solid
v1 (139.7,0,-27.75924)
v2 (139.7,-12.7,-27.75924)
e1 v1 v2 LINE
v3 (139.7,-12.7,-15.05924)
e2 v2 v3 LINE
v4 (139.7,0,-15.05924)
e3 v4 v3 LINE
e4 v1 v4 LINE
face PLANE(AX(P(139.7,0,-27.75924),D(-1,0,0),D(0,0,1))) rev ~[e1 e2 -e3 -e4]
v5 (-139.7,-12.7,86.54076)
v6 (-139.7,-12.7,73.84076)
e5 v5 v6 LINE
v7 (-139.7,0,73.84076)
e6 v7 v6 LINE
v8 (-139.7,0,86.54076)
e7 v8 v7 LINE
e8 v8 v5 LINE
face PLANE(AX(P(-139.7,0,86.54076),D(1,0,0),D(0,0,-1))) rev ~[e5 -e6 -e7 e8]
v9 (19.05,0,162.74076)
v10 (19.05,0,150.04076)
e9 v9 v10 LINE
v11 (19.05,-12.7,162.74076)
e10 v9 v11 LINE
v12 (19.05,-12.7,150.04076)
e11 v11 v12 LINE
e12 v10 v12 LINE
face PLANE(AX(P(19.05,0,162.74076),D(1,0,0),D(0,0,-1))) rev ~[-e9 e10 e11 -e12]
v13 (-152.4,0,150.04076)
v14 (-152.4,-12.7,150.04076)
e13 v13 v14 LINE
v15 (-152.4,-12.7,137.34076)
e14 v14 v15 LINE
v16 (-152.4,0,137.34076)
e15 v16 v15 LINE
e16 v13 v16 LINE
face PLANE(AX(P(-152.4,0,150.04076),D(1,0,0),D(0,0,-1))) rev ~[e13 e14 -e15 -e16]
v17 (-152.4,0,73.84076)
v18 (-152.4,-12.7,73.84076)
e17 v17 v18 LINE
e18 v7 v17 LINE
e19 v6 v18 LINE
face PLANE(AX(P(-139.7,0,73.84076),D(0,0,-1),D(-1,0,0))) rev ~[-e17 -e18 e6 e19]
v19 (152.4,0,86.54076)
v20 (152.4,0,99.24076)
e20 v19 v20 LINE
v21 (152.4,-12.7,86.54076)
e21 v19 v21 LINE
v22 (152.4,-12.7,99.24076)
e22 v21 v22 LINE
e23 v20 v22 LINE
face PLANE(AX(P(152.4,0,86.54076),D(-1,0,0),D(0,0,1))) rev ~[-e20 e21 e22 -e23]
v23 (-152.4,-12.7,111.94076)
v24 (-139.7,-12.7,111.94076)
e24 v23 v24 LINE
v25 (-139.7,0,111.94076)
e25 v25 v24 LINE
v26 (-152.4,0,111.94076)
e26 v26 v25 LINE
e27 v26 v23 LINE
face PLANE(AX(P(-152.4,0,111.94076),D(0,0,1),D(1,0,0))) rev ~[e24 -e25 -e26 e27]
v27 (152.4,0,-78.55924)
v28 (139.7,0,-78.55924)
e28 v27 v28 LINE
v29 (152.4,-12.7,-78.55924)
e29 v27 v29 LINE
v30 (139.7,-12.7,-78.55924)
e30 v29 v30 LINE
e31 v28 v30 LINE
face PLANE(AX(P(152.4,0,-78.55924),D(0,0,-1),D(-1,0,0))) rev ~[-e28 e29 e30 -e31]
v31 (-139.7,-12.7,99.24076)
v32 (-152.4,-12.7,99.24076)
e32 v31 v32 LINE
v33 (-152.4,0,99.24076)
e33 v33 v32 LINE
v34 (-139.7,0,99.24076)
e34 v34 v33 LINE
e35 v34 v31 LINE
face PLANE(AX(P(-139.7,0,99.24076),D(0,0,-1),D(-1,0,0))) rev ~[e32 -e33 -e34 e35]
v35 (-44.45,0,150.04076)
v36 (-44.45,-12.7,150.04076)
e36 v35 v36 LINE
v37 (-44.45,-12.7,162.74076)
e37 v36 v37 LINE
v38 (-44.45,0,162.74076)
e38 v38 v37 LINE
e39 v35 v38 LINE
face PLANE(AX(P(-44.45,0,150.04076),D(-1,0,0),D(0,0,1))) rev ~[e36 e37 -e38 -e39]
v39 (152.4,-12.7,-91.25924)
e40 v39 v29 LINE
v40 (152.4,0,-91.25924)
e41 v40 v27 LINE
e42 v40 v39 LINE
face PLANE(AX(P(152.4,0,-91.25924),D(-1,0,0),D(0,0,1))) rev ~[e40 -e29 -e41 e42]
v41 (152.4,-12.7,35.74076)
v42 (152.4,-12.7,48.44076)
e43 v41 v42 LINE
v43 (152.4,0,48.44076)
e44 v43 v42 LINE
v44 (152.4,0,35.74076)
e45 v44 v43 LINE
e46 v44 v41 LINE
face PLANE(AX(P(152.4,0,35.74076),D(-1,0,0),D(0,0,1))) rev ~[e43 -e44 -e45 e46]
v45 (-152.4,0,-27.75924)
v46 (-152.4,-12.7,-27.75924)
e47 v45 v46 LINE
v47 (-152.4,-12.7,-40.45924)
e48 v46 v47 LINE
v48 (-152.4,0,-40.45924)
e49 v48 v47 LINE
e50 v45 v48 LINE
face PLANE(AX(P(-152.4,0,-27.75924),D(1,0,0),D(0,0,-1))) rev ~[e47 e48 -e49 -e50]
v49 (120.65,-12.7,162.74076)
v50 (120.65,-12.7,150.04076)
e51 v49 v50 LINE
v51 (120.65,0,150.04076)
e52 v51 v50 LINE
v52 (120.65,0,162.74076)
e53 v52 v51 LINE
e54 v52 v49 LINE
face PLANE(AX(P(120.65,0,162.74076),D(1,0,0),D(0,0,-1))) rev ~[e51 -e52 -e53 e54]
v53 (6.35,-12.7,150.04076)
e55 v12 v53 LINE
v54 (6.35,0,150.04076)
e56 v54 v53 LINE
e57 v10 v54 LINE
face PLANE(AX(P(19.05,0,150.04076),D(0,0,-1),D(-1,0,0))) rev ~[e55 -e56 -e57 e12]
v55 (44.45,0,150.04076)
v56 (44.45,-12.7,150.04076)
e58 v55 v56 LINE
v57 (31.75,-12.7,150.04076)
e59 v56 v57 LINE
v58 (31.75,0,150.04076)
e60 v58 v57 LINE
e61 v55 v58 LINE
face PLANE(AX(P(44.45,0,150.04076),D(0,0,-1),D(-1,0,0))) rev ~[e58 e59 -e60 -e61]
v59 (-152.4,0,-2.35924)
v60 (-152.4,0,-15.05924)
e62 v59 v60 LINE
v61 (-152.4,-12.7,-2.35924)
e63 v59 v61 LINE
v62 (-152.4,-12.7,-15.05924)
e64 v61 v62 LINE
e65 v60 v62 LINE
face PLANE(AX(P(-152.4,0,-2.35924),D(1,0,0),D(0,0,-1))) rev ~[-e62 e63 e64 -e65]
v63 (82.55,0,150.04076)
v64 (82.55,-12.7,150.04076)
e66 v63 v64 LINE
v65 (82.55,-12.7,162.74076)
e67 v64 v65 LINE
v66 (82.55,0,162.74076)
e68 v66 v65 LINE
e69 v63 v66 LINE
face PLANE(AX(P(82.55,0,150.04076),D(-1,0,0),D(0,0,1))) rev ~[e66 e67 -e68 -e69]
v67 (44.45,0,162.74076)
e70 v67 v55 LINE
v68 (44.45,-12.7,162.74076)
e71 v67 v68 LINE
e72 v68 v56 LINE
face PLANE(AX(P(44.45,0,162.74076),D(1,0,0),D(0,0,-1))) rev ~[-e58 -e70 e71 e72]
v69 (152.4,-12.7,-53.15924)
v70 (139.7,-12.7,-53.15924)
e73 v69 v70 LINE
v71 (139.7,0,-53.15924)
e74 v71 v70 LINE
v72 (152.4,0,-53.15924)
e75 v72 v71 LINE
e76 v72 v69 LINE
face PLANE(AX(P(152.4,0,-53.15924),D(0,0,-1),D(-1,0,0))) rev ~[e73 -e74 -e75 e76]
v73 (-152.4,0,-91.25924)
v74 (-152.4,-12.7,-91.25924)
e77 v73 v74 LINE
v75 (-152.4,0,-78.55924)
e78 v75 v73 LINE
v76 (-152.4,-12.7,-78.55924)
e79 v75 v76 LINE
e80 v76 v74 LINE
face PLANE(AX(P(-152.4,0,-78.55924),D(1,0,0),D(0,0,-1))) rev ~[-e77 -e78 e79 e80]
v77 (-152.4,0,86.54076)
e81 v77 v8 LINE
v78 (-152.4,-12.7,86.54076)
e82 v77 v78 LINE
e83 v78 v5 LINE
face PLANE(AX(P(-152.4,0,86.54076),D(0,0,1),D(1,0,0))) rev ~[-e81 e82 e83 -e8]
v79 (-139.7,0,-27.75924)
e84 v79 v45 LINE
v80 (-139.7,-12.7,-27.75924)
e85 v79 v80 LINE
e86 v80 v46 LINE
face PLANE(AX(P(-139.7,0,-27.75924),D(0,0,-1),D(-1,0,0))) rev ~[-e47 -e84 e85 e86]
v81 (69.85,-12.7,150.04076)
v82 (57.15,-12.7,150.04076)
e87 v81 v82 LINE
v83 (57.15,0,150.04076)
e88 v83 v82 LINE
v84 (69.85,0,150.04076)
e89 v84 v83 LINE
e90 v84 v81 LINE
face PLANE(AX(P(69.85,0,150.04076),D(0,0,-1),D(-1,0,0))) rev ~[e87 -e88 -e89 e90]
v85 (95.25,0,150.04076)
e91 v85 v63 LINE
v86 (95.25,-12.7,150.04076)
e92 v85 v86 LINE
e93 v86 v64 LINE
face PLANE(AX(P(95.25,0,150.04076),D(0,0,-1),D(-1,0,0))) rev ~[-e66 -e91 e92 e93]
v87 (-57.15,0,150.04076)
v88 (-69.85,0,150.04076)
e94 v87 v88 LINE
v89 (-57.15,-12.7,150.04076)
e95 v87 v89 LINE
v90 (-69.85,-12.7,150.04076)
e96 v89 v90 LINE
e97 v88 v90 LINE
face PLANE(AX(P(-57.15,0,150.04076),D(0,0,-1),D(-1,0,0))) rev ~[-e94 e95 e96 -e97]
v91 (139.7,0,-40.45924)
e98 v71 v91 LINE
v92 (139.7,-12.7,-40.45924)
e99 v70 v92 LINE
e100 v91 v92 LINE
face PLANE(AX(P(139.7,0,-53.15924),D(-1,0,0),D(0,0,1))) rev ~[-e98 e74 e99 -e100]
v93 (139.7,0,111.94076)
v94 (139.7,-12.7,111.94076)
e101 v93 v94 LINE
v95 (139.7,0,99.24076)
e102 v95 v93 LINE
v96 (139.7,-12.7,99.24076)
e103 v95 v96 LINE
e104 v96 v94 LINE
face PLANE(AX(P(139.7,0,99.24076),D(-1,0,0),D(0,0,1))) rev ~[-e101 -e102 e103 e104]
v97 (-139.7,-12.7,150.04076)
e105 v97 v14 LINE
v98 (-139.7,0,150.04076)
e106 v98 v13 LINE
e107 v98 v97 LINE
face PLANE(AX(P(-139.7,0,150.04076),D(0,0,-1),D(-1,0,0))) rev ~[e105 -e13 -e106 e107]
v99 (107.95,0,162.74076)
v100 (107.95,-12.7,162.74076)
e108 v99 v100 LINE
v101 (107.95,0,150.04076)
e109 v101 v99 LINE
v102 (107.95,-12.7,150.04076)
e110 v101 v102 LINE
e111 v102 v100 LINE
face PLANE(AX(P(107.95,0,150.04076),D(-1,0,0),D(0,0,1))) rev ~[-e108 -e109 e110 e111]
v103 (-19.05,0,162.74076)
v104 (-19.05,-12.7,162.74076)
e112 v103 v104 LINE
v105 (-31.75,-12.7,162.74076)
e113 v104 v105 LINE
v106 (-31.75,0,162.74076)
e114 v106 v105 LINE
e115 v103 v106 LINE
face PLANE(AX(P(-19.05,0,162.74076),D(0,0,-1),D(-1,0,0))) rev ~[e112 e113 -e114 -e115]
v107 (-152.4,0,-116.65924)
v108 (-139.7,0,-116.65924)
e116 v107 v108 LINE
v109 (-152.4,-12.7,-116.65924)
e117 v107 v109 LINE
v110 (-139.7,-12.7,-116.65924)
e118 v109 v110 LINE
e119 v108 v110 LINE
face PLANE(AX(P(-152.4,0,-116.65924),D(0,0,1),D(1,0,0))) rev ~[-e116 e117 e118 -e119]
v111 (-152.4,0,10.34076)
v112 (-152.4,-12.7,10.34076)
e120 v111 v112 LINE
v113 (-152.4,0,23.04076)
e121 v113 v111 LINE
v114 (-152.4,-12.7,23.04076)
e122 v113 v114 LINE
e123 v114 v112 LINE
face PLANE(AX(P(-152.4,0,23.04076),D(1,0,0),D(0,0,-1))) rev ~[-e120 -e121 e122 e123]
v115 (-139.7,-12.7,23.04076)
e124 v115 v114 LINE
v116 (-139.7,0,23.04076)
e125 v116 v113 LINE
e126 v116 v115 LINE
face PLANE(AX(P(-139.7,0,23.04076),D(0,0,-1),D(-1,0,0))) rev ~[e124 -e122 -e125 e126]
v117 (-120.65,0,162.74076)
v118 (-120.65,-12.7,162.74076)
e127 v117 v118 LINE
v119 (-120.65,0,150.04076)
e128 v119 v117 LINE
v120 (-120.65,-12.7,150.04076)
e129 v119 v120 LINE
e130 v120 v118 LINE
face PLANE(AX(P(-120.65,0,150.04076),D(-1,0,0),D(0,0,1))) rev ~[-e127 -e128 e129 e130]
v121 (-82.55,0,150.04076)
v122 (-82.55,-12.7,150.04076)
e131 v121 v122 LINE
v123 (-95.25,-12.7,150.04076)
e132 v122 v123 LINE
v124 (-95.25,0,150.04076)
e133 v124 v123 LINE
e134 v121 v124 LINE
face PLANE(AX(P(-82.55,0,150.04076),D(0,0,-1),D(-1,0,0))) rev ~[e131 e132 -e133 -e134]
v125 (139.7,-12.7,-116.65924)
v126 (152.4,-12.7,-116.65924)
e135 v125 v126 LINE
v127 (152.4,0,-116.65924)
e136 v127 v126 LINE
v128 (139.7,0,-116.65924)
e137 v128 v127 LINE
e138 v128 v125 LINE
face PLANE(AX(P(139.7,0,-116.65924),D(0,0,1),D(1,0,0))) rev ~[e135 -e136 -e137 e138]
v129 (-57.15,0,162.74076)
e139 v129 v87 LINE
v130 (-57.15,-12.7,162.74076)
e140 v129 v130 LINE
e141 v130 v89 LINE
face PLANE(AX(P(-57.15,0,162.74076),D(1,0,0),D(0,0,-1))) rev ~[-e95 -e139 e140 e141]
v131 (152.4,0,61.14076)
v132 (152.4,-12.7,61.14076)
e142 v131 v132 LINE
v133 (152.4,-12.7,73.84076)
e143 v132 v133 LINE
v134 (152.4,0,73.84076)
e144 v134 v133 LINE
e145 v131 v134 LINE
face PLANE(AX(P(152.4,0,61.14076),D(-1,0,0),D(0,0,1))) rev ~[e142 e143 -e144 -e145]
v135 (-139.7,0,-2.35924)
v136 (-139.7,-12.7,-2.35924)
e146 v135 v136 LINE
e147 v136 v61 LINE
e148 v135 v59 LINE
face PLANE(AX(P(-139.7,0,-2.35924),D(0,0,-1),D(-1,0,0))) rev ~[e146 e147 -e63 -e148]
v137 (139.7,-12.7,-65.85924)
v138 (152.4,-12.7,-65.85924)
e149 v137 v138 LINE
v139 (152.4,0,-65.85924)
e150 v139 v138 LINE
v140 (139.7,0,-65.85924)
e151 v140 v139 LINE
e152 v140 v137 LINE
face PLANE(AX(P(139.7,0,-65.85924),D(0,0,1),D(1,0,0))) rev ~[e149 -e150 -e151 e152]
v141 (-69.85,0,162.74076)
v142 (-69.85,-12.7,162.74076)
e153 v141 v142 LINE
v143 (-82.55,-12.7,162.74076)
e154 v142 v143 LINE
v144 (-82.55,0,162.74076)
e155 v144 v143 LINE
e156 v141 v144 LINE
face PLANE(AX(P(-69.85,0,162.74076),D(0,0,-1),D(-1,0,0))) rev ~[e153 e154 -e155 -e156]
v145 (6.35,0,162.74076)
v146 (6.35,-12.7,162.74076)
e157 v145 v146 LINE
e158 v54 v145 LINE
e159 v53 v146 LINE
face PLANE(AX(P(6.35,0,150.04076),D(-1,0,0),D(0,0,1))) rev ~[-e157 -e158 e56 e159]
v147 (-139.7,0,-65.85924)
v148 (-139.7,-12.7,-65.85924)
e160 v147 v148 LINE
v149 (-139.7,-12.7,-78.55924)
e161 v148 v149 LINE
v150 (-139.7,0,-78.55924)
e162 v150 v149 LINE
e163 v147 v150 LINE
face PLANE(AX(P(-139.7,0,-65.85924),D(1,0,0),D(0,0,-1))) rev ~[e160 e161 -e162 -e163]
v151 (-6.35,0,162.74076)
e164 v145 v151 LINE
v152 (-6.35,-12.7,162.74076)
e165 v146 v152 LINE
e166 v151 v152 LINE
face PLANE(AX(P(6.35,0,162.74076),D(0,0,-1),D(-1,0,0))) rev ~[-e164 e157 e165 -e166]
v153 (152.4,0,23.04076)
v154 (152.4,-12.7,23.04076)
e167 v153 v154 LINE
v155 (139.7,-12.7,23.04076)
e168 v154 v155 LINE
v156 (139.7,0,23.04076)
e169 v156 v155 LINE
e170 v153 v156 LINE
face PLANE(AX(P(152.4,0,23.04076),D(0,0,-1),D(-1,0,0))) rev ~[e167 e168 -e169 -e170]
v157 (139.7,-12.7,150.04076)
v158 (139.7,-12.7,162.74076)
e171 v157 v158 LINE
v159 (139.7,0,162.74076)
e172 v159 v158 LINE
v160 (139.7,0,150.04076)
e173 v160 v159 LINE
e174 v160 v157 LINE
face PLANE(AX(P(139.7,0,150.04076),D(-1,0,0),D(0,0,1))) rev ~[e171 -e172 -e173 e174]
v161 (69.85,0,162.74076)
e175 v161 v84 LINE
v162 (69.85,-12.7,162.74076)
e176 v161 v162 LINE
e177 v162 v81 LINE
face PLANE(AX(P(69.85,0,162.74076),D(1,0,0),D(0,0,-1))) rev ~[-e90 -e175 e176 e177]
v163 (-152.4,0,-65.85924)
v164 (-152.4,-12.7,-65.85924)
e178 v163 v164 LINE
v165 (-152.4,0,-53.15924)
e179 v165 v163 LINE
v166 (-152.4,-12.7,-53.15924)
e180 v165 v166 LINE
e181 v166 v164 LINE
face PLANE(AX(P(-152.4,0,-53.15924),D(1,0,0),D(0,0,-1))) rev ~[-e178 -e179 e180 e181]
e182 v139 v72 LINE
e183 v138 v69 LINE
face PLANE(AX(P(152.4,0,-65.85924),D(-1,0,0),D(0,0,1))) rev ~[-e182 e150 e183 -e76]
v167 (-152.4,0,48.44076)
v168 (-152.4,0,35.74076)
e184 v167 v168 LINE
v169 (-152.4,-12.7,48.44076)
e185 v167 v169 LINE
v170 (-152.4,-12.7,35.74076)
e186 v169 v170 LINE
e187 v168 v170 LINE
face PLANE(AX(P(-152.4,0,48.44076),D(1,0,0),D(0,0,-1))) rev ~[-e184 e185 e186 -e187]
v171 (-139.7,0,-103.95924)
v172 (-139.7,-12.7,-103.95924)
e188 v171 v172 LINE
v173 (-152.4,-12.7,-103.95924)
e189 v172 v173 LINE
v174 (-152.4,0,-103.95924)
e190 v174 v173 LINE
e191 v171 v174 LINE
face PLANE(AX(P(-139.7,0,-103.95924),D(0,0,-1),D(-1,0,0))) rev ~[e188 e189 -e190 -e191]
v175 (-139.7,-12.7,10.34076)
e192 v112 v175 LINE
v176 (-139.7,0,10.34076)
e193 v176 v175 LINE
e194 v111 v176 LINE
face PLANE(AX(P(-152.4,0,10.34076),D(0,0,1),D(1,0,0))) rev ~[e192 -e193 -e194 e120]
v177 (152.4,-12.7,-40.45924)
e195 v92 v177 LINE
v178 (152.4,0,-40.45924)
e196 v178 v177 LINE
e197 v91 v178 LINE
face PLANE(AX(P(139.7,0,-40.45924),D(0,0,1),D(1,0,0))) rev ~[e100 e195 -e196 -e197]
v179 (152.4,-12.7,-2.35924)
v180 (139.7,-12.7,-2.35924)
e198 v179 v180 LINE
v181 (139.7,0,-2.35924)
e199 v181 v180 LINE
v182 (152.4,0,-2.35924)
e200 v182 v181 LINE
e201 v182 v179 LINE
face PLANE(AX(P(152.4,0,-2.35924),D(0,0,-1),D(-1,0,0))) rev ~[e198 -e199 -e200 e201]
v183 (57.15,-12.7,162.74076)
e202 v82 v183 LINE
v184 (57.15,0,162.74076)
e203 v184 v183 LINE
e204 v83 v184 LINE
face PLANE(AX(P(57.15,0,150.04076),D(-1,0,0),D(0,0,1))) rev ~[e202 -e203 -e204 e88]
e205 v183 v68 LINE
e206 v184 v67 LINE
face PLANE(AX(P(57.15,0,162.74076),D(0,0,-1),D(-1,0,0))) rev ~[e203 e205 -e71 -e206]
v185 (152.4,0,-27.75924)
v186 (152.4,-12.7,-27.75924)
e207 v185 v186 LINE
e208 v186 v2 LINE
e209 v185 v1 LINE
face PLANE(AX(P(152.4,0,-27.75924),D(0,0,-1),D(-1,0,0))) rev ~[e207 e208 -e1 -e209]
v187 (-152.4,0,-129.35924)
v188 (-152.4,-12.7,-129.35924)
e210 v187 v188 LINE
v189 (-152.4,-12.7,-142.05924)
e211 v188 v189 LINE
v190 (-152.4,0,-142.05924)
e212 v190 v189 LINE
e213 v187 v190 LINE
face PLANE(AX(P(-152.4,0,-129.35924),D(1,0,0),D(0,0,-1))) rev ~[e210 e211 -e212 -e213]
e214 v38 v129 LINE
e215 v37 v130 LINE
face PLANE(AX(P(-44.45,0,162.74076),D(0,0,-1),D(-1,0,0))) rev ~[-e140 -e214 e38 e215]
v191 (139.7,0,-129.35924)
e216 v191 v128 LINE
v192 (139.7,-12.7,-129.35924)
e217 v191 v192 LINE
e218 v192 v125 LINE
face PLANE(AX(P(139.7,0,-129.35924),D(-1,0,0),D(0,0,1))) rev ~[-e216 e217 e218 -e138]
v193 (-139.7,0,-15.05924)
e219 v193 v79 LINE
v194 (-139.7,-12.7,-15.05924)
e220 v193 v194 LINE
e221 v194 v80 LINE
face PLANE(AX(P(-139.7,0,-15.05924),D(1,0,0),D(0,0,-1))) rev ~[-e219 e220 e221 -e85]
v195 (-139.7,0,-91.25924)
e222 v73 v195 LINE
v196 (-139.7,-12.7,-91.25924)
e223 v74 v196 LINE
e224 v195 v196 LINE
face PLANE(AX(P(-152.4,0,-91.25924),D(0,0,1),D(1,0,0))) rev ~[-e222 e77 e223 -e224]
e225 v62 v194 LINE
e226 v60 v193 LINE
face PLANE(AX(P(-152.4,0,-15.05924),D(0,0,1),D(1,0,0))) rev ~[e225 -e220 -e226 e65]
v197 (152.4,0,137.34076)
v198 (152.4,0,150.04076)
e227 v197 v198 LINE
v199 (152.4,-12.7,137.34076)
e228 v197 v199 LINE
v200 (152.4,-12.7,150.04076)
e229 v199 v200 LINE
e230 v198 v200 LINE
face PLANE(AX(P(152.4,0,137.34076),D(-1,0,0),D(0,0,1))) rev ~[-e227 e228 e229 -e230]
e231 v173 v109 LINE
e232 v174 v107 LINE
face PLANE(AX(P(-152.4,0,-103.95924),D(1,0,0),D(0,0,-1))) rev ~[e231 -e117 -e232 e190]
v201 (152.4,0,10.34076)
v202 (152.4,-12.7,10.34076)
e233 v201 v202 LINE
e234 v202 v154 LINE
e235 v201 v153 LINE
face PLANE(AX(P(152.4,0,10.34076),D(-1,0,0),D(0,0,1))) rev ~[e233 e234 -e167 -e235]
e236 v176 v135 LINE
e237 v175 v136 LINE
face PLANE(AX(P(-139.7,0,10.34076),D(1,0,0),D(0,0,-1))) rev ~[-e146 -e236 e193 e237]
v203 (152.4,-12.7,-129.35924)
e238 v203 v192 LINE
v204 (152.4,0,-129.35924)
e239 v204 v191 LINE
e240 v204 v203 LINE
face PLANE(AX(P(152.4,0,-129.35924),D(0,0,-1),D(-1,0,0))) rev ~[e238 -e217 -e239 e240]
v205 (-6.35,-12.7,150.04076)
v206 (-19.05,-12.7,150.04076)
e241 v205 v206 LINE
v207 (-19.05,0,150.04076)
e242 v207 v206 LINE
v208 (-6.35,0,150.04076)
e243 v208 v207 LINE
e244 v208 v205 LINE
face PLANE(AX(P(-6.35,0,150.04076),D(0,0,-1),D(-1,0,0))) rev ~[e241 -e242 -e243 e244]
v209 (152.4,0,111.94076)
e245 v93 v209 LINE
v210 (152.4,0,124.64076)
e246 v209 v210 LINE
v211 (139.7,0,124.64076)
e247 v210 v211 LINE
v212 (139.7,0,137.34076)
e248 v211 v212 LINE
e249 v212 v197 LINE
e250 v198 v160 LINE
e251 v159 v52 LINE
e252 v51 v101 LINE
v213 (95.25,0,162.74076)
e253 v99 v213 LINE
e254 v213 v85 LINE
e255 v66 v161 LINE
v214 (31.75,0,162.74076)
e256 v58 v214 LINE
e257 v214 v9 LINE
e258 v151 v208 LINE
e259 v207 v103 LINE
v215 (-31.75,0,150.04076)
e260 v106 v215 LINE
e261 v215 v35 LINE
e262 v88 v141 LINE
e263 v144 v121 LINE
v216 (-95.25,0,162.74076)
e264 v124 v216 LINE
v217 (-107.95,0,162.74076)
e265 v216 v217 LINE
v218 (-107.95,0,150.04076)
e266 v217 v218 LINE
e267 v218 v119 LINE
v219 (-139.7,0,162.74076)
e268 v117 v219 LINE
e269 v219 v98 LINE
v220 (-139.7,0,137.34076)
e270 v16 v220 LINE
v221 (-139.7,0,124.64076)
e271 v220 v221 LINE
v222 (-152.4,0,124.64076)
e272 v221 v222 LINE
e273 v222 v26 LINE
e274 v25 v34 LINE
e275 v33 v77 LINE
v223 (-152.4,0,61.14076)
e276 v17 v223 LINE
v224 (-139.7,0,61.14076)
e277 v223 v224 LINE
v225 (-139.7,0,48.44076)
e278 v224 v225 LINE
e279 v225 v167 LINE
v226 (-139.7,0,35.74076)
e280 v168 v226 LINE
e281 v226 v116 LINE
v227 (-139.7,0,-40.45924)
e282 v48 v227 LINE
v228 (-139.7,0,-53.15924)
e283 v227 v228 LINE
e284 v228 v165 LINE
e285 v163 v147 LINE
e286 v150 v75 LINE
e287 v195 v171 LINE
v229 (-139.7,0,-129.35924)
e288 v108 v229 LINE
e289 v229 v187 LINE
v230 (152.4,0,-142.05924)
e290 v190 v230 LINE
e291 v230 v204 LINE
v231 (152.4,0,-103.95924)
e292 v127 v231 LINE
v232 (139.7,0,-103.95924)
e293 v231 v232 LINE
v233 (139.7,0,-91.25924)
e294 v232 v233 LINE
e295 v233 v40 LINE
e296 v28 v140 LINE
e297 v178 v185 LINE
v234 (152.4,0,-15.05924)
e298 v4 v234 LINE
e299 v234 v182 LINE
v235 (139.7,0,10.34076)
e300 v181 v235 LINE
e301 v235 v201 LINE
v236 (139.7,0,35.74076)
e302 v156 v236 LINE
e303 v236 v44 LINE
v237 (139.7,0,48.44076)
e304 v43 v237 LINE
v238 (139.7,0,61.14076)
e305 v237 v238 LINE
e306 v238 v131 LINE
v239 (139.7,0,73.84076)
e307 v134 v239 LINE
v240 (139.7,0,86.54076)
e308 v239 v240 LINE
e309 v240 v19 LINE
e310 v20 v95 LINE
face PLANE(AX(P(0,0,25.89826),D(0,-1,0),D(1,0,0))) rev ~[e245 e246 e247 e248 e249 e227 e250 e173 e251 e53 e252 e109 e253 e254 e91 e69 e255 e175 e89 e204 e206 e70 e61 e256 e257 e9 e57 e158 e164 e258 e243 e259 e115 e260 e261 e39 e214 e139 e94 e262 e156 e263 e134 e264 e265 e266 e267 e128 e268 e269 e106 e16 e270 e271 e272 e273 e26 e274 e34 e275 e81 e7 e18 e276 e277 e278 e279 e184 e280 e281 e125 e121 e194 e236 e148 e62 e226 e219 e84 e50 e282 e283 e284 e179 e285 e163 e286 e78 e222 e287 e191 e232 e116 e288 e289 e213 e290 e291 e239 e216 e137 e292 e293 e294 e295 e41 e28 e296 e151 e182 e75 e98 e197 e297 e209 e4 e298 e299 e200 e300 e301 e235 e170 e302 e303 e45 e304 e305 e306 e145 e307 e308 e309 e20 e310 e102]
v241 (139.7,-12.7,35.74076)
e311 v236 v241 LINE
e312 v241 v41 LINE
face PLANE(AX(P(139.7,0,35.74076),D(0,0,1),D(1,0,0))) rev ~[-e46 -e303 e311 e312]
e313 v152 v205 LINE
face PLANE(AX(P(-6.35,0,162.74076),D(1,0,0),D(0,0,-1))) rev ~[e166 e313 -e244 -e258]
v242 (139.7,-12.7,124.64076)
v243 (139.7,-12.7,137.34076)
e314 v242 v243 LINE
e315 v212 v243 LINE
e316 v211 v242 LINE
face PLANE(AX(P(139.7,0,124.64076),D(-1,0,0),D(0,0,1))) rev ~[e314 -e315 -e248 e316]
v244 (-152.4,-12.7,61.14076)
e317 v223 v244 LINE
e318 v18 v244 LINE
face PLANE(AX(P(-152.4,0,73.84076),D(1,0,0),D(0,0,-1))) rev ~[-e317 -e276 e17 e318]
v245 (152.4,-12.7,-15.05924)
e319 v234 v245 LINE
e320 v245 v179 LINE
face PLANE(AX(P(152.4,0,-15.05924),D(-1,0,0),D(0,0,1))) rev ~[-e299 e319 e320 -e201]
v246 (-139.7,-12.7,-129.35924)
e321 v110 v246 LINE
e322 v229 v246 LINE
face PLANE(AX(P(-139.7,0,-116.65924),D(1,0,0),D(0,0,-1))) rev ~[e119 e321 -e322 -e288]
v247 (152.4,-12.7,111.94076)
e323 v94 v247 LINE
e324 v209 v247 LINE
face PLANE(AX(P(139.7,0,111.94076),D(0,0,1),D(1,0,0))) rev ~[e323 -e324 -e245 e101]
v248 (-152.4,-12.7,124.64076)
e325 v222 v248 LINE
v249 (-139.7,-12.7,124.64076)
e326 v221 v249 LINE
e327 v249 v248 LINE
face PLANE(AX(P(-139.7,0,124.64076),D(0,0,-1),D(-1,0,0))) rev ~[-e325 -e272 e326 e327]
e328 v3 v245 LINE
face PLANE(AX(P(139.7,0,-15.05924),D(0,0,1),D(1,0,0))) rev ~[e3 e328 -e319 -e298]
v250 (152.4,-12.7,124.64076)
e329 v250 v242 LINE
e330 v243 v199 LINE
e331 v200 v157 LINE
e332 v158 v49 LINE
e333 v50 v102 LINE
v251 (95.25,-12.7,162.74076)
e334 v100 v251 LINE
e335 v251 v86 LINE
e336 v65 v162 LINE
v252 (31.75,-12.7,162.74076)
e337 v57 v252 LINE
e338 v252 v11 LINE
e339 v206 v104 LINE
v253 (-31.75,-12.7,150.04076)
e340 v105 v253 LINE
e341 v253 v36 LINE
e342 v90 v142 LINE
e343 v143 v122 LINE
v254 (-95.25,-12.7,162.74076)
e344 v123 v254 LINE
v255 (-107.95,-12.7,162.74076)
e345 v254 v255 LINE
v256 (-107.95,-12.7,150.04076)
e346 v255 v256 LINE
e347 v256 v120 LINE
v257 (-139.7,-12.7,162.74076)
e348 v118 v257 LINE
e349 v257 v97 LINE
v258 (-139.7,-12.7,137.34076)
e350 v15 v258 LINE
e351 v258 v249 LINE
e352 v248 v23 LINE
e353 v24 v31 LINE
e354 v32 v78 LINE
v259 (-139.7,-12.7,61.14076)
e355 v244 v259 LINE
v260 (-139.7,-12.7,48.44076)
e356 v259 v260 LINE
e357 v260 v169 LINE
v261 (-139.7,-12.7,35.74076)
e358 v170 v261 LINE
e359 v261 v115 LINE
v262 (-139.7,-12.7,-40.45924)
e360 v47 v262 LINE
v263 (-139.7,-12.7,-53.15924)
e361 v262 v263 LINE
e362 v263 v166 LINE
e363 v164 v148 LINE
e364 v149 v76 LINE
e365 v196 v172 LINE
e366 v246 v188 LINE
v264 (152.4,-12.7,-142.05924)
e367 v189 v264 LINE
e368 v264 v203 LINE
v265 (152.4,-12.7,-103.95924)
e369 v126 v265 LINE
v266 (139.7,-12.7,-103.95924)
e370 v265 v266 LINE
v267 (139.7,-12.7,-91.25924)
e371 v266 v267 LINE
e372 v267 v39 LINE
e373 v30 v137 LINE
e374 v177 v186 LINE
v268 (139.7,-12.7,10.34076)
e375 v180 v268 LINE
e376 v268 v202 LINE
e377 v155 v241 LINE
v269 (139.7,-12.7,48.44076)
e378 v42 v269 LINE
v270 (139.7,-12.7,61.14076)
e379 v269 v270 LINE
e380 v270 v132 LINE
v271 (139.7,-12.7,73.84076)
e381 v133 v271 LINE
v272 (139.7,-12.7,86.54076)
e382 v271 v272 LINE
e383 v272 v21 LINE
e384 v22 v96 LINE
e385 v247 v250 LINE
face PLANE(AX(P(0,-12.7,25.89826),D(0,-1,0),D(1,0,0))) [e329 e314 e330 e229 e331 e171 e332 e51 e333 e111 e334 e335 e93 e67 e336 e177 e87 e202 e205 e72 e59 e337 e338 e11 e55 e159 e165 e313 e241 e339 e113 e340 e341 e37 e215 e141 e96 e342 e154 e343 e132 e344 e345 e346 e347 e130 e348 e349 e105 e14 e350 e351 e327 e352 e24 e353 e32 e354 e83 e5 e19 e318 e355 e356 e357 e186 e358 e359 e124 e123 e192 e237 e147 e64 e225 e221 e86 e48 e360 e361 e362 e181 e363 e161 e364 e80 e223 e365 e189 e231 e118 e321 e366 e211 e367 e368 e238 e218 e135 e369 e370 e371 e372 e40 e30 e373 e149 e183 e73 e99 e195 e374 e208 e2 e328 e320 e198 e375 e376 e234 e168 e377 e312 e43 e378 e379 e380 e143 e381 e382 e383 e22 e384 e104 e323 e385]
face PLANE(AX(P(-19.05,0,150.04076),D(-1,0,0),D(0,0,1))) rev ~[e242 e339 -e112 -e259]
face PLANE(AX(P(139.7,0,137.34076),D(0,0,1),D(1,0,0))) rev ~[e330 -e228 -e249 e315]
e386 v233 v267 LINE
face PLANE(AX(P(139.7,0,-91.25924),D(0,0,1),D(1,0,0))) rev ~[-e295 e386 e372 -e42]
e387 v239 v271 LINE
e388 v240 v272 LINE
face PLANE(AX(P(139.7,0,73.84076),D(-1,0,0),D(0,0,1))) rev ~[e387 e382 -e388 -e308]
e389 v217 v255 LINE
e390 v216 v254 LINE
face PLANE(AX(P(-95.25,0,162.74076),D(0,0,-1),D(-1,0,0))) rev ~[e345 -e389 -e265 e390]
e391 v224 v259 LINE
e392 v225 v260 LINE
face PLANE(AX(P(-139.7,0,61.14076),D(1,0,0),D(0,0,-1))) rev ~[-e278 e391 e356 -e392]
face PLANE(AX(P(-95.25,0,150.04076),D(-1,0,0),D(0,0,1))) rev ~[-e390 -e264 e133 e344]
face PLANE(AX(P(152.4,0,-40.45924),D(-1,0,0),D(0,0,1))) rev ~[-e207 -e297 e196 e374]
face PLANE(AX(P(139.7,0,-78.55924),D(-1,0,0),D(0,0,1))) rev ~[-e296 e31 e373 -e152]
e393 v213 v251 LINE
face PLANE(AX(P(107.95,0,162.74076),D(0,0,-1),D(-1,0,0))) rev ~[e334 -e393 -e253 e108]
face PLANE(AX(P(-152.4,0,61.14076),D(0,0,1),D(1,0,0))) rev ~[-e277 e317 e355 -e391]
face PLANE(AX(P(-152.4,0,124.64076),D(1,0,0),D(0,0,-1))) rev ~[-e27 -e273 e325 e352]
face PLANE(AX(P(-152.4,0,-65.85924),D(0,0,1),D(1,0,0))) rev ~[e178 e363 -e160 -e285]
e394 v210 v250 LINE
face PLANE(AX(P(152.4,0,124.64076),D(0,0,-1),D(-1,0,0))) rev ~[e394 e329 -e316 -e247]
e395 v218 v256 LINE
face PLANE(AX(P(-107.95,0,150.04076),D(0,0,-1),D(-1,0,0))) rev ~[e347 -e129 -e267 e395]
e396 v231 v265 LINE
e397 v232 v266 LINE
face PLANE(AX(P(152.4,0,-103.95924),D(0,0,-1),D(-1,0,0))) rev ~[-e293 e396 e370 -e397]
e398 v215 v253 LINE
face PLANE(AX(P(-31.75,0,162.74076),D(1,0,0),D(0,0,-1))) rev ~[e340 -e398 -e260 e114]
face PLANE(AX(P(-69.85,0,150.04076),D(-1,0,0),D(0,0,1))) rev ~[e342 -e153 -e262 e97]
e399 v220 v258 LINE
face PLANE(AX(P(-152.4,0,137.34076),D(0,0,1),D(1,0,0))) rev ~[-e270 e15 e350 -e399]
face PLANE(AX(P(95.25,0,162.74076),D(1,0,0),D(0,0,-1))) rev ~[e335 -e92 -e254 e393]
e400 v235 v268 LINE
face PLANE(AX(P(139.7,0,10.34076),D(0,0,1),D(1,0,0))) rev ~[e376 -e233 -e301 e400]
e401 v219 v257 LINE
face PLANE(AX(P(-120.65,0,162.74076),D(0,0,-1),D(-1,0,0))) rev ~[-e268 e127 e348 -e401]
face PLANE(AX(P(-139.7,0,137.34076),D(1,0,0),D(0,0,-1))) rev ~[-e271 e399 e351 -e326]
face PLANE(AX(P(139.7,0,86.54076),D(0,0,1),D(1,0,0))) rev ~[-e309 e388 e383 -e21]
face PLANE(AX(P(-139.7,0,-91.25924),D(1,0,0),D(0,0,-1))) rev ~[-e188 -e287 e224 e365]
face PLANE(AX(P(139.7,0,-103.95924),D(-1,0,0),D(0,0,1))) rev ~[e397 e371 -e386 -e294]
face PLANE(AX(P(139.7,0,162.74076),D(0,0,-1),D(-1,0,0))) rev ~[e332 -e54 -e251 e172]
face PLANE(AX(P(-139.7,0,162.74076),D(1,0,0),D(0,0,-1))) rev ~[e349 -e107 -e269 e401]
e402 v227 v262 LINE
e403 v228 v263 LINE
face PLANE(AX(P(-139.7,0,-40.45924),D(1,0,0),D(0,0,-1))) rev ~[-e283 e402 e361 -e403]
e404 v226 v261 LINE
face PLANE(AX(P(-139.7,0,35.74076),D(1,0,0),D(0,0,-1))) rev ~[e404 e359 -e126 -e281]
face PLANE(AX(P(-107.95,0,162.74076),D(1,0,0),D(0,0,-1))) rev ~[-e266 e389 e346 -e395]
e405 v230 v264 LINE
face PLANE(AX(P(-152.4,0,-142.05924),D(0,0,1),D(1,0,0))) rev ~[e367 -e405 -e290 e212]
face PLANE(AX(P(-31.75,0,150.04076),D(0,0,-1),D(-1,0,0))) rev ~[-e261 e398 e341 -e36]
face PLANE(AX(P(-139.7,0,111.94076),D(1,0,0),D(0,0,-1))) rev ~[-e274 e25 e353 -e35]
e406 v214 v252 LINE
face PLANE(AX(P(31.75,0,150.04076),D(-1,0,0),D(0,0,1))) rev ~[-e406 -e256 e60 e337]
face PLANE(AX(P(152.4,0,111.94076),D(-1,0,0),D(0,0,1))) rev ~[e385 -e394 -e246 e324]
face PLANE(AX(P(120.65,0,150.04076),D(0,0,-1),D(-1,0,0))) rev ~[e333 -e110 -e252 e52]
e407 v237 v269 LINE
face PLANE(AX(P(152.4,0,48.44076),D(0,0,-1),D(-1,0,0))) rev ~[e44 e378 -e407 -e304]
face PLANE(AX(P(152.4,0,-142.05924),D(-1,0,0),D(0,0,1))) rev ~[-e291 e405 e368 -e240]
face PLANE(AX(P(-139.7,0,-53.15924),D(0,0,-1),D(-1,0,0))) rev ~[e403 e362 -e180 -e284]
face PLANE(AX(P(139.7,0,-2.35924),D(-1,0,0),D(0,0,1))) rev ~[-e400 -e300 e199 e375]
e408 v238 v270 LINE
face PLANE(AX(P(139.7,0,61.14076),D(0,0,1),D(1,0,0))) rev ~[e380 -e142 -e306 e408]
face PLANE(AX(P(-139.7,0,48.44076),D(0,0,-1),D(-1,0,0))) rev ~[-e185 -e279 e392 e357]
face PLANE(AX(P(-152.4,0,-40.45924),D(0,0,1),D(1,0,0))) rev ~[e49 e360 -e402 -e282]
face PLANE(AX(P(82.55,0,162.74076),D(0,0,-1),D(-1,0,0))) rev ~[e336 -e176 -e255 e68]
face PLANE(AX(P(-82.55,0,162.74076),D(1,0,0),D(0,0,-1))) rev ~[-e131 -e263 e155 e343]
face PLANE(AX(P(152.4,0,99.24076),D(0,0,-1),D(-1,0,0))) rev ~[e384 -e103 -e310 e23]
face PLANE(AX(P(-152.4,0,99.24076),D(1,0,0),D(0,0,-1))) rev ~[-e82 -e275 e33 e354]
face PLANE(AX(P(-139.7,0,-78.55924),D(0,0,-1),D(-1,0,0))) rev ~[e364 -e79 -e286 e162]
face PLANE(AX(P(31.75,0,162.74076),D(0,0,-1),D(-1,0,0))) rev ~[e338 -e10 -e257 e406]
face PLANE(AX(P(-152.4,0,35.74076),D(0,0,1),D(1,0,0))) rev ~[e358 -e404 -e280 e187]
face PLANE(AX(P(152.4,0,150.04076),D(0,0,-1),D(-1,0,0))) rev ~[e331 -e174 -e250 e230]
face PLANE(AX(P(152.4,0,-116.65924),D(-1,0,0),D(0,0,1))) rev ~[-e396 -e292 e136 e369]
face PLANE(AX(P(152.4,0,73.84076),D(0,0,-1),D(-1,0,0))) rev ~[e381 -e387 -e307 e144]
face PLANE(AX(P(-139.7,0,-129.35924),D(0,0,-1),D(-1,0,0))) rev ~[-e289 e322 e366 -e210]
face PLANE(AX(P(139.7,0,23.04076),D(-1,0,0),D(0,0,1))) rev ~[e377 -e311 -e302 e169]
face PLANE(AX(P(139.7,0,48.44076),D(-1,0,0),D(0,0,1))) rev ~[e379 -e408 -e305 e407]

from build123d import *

# Parameters (mm, degrees)
F1_DEPTH = 12.7


with BuildPart() as f1:
    # F0 (on Front) → F1 (new body)
    with BuildSketch(Plane.XZ):
        Polygon((-139.7, -142.05924), (139.7, -142.05924), (152.4, -142.05924), (152.4, -129.35924), (139.7, -129.35924), (139.7, -116.65924), (152.4, -116.65924), (152.4, -103.95924), (139.7, -103.95924), (139.7, -91.25924), (152.4, -91.25924), (152.4, -78.55924), (139.7, -78.55924), (139.7, -65.85924), (152.4, -65.85924), (152.4, -53.15924), (139.7, -53.15924), (139.7, -40.45924), (152.4, -40.45924), (152.4, -27.75924), (139.7, -27.75924), (139.7, -15.05924), (152.4, -15.05924), (152.4, -2.35924), (139.7, -2.35924), (139.7, 10.34076), (152.4, 10.34076), (152.4, 23.04076), (139.7, 23.04076), (139.7, 35.74076), (152.4, 35.74076), (152.4, 48.44076), (139.7, 48.44076), (139.7, 61.14076), (152.4, 61.14076), (152.4, 73.84076), (139.7, 73.84076), (139.7, 86.54076), (152.4, 86.54076), (152.4, 99.24076), (139.7, 99.24076), (139.7, 111.94076), (152.4, 111.94076), (152.4, 124.64076), (139.7, 124.64076), (139.7, 137.34076), (152.4, 137.34076), (152.4, 150.04076), (139.7, 150.04076), (139.7, 162.74076), (120.65, 162.74076), (120.65, 150.04076), (107.95, 150.04076), (107.95, 162.74076), (95.25, 162.74076), (95.25, 150.04076), (82.55, 150.04076), (82.55, 162.74076), (69.85, 162.74076), (69.85, 150.04076), (57.15, 150.04076), (57.15, 162.74076), (44.45, 162.74076), (44.45, 150.04076), (31.75, 150.04076), (31.75, 162.74076), (19.05, 162.74076), (19.05, 150.04076), (6.35, 150.04076), (6.35, 162.74076), (-6.35, 162.74076), (-6.35, 150.04076), (-19.05, 150.04076), (-19.05, 162.74076), (-31.75, 162.74076), (-31.75, 150.04076), (-44.45, 150.04076), (-44.45, 162.74076), (-57.15, 162.74076), (-57.15, 150.04076), (-69.85, 150.04076), (-69.85, 162.74076), (-82.55, 162.74076), (-82.55, 150.04076), (-95.25, 150.04076), (-95.25, 162.74076), (-107.95, 162.74076), (-107.95, 150.04076), (-120.65, 150.04076), (-120.65, 162.74076), (-139.7, 162.74076), (-139.7, 150.04076), (-152.4, 150.04076), (-152.4, 137.34076), (-139.7, 137.34076), (-139.7, 124.64076), (-152.4, 124.64076), (-152.4, 111.94076), (-139.7, 111.94076), (-139.7, 99.24076), (-152.4, 99.24076), (-152.4, 86.54076), (-139.7, 86.54076), (-139.7, 73.84076), (-152.4, 73.84076), (-152.4, 61.14076), (-139.7, 61.14076), (-139.7, 48.44076), (-152.4, 48.44076), (-152.4, 35.74076), (-139.7, 35.74076), (-139.7, 23.04076), (-152.4, 23.04076), (-152.4, 10.34076), (-139.7, 10.34076), (-139.7, -2.35924), (-152.4, -2.35924), (-152.4, -15.05924), (-139.7, -15.05924), (-139.7, -27.75924), (-152.4, -27.75924), (-152.4, -40.45924), (-139.7, -40.45924), (-139.7, -53.15924), (-152.4, -53.15924), (-152.4, -65.85924), (-139.7, -65.85924), (-139.7, -78.55924), (-152.4, -78.55924), (-152.4, -91.25924), (-139.7, -91.25924), (-139.7, -103.95924), (-152.4, -103.95924), (-152.4, -116.65924), (-139.7, -116.65924), (-139.7, -129.35924), (-152.4, -129.35924), (-152.4, -142.05924), align=None)
    extrude(amount=F1_DEPTH)


solid = f1.part
